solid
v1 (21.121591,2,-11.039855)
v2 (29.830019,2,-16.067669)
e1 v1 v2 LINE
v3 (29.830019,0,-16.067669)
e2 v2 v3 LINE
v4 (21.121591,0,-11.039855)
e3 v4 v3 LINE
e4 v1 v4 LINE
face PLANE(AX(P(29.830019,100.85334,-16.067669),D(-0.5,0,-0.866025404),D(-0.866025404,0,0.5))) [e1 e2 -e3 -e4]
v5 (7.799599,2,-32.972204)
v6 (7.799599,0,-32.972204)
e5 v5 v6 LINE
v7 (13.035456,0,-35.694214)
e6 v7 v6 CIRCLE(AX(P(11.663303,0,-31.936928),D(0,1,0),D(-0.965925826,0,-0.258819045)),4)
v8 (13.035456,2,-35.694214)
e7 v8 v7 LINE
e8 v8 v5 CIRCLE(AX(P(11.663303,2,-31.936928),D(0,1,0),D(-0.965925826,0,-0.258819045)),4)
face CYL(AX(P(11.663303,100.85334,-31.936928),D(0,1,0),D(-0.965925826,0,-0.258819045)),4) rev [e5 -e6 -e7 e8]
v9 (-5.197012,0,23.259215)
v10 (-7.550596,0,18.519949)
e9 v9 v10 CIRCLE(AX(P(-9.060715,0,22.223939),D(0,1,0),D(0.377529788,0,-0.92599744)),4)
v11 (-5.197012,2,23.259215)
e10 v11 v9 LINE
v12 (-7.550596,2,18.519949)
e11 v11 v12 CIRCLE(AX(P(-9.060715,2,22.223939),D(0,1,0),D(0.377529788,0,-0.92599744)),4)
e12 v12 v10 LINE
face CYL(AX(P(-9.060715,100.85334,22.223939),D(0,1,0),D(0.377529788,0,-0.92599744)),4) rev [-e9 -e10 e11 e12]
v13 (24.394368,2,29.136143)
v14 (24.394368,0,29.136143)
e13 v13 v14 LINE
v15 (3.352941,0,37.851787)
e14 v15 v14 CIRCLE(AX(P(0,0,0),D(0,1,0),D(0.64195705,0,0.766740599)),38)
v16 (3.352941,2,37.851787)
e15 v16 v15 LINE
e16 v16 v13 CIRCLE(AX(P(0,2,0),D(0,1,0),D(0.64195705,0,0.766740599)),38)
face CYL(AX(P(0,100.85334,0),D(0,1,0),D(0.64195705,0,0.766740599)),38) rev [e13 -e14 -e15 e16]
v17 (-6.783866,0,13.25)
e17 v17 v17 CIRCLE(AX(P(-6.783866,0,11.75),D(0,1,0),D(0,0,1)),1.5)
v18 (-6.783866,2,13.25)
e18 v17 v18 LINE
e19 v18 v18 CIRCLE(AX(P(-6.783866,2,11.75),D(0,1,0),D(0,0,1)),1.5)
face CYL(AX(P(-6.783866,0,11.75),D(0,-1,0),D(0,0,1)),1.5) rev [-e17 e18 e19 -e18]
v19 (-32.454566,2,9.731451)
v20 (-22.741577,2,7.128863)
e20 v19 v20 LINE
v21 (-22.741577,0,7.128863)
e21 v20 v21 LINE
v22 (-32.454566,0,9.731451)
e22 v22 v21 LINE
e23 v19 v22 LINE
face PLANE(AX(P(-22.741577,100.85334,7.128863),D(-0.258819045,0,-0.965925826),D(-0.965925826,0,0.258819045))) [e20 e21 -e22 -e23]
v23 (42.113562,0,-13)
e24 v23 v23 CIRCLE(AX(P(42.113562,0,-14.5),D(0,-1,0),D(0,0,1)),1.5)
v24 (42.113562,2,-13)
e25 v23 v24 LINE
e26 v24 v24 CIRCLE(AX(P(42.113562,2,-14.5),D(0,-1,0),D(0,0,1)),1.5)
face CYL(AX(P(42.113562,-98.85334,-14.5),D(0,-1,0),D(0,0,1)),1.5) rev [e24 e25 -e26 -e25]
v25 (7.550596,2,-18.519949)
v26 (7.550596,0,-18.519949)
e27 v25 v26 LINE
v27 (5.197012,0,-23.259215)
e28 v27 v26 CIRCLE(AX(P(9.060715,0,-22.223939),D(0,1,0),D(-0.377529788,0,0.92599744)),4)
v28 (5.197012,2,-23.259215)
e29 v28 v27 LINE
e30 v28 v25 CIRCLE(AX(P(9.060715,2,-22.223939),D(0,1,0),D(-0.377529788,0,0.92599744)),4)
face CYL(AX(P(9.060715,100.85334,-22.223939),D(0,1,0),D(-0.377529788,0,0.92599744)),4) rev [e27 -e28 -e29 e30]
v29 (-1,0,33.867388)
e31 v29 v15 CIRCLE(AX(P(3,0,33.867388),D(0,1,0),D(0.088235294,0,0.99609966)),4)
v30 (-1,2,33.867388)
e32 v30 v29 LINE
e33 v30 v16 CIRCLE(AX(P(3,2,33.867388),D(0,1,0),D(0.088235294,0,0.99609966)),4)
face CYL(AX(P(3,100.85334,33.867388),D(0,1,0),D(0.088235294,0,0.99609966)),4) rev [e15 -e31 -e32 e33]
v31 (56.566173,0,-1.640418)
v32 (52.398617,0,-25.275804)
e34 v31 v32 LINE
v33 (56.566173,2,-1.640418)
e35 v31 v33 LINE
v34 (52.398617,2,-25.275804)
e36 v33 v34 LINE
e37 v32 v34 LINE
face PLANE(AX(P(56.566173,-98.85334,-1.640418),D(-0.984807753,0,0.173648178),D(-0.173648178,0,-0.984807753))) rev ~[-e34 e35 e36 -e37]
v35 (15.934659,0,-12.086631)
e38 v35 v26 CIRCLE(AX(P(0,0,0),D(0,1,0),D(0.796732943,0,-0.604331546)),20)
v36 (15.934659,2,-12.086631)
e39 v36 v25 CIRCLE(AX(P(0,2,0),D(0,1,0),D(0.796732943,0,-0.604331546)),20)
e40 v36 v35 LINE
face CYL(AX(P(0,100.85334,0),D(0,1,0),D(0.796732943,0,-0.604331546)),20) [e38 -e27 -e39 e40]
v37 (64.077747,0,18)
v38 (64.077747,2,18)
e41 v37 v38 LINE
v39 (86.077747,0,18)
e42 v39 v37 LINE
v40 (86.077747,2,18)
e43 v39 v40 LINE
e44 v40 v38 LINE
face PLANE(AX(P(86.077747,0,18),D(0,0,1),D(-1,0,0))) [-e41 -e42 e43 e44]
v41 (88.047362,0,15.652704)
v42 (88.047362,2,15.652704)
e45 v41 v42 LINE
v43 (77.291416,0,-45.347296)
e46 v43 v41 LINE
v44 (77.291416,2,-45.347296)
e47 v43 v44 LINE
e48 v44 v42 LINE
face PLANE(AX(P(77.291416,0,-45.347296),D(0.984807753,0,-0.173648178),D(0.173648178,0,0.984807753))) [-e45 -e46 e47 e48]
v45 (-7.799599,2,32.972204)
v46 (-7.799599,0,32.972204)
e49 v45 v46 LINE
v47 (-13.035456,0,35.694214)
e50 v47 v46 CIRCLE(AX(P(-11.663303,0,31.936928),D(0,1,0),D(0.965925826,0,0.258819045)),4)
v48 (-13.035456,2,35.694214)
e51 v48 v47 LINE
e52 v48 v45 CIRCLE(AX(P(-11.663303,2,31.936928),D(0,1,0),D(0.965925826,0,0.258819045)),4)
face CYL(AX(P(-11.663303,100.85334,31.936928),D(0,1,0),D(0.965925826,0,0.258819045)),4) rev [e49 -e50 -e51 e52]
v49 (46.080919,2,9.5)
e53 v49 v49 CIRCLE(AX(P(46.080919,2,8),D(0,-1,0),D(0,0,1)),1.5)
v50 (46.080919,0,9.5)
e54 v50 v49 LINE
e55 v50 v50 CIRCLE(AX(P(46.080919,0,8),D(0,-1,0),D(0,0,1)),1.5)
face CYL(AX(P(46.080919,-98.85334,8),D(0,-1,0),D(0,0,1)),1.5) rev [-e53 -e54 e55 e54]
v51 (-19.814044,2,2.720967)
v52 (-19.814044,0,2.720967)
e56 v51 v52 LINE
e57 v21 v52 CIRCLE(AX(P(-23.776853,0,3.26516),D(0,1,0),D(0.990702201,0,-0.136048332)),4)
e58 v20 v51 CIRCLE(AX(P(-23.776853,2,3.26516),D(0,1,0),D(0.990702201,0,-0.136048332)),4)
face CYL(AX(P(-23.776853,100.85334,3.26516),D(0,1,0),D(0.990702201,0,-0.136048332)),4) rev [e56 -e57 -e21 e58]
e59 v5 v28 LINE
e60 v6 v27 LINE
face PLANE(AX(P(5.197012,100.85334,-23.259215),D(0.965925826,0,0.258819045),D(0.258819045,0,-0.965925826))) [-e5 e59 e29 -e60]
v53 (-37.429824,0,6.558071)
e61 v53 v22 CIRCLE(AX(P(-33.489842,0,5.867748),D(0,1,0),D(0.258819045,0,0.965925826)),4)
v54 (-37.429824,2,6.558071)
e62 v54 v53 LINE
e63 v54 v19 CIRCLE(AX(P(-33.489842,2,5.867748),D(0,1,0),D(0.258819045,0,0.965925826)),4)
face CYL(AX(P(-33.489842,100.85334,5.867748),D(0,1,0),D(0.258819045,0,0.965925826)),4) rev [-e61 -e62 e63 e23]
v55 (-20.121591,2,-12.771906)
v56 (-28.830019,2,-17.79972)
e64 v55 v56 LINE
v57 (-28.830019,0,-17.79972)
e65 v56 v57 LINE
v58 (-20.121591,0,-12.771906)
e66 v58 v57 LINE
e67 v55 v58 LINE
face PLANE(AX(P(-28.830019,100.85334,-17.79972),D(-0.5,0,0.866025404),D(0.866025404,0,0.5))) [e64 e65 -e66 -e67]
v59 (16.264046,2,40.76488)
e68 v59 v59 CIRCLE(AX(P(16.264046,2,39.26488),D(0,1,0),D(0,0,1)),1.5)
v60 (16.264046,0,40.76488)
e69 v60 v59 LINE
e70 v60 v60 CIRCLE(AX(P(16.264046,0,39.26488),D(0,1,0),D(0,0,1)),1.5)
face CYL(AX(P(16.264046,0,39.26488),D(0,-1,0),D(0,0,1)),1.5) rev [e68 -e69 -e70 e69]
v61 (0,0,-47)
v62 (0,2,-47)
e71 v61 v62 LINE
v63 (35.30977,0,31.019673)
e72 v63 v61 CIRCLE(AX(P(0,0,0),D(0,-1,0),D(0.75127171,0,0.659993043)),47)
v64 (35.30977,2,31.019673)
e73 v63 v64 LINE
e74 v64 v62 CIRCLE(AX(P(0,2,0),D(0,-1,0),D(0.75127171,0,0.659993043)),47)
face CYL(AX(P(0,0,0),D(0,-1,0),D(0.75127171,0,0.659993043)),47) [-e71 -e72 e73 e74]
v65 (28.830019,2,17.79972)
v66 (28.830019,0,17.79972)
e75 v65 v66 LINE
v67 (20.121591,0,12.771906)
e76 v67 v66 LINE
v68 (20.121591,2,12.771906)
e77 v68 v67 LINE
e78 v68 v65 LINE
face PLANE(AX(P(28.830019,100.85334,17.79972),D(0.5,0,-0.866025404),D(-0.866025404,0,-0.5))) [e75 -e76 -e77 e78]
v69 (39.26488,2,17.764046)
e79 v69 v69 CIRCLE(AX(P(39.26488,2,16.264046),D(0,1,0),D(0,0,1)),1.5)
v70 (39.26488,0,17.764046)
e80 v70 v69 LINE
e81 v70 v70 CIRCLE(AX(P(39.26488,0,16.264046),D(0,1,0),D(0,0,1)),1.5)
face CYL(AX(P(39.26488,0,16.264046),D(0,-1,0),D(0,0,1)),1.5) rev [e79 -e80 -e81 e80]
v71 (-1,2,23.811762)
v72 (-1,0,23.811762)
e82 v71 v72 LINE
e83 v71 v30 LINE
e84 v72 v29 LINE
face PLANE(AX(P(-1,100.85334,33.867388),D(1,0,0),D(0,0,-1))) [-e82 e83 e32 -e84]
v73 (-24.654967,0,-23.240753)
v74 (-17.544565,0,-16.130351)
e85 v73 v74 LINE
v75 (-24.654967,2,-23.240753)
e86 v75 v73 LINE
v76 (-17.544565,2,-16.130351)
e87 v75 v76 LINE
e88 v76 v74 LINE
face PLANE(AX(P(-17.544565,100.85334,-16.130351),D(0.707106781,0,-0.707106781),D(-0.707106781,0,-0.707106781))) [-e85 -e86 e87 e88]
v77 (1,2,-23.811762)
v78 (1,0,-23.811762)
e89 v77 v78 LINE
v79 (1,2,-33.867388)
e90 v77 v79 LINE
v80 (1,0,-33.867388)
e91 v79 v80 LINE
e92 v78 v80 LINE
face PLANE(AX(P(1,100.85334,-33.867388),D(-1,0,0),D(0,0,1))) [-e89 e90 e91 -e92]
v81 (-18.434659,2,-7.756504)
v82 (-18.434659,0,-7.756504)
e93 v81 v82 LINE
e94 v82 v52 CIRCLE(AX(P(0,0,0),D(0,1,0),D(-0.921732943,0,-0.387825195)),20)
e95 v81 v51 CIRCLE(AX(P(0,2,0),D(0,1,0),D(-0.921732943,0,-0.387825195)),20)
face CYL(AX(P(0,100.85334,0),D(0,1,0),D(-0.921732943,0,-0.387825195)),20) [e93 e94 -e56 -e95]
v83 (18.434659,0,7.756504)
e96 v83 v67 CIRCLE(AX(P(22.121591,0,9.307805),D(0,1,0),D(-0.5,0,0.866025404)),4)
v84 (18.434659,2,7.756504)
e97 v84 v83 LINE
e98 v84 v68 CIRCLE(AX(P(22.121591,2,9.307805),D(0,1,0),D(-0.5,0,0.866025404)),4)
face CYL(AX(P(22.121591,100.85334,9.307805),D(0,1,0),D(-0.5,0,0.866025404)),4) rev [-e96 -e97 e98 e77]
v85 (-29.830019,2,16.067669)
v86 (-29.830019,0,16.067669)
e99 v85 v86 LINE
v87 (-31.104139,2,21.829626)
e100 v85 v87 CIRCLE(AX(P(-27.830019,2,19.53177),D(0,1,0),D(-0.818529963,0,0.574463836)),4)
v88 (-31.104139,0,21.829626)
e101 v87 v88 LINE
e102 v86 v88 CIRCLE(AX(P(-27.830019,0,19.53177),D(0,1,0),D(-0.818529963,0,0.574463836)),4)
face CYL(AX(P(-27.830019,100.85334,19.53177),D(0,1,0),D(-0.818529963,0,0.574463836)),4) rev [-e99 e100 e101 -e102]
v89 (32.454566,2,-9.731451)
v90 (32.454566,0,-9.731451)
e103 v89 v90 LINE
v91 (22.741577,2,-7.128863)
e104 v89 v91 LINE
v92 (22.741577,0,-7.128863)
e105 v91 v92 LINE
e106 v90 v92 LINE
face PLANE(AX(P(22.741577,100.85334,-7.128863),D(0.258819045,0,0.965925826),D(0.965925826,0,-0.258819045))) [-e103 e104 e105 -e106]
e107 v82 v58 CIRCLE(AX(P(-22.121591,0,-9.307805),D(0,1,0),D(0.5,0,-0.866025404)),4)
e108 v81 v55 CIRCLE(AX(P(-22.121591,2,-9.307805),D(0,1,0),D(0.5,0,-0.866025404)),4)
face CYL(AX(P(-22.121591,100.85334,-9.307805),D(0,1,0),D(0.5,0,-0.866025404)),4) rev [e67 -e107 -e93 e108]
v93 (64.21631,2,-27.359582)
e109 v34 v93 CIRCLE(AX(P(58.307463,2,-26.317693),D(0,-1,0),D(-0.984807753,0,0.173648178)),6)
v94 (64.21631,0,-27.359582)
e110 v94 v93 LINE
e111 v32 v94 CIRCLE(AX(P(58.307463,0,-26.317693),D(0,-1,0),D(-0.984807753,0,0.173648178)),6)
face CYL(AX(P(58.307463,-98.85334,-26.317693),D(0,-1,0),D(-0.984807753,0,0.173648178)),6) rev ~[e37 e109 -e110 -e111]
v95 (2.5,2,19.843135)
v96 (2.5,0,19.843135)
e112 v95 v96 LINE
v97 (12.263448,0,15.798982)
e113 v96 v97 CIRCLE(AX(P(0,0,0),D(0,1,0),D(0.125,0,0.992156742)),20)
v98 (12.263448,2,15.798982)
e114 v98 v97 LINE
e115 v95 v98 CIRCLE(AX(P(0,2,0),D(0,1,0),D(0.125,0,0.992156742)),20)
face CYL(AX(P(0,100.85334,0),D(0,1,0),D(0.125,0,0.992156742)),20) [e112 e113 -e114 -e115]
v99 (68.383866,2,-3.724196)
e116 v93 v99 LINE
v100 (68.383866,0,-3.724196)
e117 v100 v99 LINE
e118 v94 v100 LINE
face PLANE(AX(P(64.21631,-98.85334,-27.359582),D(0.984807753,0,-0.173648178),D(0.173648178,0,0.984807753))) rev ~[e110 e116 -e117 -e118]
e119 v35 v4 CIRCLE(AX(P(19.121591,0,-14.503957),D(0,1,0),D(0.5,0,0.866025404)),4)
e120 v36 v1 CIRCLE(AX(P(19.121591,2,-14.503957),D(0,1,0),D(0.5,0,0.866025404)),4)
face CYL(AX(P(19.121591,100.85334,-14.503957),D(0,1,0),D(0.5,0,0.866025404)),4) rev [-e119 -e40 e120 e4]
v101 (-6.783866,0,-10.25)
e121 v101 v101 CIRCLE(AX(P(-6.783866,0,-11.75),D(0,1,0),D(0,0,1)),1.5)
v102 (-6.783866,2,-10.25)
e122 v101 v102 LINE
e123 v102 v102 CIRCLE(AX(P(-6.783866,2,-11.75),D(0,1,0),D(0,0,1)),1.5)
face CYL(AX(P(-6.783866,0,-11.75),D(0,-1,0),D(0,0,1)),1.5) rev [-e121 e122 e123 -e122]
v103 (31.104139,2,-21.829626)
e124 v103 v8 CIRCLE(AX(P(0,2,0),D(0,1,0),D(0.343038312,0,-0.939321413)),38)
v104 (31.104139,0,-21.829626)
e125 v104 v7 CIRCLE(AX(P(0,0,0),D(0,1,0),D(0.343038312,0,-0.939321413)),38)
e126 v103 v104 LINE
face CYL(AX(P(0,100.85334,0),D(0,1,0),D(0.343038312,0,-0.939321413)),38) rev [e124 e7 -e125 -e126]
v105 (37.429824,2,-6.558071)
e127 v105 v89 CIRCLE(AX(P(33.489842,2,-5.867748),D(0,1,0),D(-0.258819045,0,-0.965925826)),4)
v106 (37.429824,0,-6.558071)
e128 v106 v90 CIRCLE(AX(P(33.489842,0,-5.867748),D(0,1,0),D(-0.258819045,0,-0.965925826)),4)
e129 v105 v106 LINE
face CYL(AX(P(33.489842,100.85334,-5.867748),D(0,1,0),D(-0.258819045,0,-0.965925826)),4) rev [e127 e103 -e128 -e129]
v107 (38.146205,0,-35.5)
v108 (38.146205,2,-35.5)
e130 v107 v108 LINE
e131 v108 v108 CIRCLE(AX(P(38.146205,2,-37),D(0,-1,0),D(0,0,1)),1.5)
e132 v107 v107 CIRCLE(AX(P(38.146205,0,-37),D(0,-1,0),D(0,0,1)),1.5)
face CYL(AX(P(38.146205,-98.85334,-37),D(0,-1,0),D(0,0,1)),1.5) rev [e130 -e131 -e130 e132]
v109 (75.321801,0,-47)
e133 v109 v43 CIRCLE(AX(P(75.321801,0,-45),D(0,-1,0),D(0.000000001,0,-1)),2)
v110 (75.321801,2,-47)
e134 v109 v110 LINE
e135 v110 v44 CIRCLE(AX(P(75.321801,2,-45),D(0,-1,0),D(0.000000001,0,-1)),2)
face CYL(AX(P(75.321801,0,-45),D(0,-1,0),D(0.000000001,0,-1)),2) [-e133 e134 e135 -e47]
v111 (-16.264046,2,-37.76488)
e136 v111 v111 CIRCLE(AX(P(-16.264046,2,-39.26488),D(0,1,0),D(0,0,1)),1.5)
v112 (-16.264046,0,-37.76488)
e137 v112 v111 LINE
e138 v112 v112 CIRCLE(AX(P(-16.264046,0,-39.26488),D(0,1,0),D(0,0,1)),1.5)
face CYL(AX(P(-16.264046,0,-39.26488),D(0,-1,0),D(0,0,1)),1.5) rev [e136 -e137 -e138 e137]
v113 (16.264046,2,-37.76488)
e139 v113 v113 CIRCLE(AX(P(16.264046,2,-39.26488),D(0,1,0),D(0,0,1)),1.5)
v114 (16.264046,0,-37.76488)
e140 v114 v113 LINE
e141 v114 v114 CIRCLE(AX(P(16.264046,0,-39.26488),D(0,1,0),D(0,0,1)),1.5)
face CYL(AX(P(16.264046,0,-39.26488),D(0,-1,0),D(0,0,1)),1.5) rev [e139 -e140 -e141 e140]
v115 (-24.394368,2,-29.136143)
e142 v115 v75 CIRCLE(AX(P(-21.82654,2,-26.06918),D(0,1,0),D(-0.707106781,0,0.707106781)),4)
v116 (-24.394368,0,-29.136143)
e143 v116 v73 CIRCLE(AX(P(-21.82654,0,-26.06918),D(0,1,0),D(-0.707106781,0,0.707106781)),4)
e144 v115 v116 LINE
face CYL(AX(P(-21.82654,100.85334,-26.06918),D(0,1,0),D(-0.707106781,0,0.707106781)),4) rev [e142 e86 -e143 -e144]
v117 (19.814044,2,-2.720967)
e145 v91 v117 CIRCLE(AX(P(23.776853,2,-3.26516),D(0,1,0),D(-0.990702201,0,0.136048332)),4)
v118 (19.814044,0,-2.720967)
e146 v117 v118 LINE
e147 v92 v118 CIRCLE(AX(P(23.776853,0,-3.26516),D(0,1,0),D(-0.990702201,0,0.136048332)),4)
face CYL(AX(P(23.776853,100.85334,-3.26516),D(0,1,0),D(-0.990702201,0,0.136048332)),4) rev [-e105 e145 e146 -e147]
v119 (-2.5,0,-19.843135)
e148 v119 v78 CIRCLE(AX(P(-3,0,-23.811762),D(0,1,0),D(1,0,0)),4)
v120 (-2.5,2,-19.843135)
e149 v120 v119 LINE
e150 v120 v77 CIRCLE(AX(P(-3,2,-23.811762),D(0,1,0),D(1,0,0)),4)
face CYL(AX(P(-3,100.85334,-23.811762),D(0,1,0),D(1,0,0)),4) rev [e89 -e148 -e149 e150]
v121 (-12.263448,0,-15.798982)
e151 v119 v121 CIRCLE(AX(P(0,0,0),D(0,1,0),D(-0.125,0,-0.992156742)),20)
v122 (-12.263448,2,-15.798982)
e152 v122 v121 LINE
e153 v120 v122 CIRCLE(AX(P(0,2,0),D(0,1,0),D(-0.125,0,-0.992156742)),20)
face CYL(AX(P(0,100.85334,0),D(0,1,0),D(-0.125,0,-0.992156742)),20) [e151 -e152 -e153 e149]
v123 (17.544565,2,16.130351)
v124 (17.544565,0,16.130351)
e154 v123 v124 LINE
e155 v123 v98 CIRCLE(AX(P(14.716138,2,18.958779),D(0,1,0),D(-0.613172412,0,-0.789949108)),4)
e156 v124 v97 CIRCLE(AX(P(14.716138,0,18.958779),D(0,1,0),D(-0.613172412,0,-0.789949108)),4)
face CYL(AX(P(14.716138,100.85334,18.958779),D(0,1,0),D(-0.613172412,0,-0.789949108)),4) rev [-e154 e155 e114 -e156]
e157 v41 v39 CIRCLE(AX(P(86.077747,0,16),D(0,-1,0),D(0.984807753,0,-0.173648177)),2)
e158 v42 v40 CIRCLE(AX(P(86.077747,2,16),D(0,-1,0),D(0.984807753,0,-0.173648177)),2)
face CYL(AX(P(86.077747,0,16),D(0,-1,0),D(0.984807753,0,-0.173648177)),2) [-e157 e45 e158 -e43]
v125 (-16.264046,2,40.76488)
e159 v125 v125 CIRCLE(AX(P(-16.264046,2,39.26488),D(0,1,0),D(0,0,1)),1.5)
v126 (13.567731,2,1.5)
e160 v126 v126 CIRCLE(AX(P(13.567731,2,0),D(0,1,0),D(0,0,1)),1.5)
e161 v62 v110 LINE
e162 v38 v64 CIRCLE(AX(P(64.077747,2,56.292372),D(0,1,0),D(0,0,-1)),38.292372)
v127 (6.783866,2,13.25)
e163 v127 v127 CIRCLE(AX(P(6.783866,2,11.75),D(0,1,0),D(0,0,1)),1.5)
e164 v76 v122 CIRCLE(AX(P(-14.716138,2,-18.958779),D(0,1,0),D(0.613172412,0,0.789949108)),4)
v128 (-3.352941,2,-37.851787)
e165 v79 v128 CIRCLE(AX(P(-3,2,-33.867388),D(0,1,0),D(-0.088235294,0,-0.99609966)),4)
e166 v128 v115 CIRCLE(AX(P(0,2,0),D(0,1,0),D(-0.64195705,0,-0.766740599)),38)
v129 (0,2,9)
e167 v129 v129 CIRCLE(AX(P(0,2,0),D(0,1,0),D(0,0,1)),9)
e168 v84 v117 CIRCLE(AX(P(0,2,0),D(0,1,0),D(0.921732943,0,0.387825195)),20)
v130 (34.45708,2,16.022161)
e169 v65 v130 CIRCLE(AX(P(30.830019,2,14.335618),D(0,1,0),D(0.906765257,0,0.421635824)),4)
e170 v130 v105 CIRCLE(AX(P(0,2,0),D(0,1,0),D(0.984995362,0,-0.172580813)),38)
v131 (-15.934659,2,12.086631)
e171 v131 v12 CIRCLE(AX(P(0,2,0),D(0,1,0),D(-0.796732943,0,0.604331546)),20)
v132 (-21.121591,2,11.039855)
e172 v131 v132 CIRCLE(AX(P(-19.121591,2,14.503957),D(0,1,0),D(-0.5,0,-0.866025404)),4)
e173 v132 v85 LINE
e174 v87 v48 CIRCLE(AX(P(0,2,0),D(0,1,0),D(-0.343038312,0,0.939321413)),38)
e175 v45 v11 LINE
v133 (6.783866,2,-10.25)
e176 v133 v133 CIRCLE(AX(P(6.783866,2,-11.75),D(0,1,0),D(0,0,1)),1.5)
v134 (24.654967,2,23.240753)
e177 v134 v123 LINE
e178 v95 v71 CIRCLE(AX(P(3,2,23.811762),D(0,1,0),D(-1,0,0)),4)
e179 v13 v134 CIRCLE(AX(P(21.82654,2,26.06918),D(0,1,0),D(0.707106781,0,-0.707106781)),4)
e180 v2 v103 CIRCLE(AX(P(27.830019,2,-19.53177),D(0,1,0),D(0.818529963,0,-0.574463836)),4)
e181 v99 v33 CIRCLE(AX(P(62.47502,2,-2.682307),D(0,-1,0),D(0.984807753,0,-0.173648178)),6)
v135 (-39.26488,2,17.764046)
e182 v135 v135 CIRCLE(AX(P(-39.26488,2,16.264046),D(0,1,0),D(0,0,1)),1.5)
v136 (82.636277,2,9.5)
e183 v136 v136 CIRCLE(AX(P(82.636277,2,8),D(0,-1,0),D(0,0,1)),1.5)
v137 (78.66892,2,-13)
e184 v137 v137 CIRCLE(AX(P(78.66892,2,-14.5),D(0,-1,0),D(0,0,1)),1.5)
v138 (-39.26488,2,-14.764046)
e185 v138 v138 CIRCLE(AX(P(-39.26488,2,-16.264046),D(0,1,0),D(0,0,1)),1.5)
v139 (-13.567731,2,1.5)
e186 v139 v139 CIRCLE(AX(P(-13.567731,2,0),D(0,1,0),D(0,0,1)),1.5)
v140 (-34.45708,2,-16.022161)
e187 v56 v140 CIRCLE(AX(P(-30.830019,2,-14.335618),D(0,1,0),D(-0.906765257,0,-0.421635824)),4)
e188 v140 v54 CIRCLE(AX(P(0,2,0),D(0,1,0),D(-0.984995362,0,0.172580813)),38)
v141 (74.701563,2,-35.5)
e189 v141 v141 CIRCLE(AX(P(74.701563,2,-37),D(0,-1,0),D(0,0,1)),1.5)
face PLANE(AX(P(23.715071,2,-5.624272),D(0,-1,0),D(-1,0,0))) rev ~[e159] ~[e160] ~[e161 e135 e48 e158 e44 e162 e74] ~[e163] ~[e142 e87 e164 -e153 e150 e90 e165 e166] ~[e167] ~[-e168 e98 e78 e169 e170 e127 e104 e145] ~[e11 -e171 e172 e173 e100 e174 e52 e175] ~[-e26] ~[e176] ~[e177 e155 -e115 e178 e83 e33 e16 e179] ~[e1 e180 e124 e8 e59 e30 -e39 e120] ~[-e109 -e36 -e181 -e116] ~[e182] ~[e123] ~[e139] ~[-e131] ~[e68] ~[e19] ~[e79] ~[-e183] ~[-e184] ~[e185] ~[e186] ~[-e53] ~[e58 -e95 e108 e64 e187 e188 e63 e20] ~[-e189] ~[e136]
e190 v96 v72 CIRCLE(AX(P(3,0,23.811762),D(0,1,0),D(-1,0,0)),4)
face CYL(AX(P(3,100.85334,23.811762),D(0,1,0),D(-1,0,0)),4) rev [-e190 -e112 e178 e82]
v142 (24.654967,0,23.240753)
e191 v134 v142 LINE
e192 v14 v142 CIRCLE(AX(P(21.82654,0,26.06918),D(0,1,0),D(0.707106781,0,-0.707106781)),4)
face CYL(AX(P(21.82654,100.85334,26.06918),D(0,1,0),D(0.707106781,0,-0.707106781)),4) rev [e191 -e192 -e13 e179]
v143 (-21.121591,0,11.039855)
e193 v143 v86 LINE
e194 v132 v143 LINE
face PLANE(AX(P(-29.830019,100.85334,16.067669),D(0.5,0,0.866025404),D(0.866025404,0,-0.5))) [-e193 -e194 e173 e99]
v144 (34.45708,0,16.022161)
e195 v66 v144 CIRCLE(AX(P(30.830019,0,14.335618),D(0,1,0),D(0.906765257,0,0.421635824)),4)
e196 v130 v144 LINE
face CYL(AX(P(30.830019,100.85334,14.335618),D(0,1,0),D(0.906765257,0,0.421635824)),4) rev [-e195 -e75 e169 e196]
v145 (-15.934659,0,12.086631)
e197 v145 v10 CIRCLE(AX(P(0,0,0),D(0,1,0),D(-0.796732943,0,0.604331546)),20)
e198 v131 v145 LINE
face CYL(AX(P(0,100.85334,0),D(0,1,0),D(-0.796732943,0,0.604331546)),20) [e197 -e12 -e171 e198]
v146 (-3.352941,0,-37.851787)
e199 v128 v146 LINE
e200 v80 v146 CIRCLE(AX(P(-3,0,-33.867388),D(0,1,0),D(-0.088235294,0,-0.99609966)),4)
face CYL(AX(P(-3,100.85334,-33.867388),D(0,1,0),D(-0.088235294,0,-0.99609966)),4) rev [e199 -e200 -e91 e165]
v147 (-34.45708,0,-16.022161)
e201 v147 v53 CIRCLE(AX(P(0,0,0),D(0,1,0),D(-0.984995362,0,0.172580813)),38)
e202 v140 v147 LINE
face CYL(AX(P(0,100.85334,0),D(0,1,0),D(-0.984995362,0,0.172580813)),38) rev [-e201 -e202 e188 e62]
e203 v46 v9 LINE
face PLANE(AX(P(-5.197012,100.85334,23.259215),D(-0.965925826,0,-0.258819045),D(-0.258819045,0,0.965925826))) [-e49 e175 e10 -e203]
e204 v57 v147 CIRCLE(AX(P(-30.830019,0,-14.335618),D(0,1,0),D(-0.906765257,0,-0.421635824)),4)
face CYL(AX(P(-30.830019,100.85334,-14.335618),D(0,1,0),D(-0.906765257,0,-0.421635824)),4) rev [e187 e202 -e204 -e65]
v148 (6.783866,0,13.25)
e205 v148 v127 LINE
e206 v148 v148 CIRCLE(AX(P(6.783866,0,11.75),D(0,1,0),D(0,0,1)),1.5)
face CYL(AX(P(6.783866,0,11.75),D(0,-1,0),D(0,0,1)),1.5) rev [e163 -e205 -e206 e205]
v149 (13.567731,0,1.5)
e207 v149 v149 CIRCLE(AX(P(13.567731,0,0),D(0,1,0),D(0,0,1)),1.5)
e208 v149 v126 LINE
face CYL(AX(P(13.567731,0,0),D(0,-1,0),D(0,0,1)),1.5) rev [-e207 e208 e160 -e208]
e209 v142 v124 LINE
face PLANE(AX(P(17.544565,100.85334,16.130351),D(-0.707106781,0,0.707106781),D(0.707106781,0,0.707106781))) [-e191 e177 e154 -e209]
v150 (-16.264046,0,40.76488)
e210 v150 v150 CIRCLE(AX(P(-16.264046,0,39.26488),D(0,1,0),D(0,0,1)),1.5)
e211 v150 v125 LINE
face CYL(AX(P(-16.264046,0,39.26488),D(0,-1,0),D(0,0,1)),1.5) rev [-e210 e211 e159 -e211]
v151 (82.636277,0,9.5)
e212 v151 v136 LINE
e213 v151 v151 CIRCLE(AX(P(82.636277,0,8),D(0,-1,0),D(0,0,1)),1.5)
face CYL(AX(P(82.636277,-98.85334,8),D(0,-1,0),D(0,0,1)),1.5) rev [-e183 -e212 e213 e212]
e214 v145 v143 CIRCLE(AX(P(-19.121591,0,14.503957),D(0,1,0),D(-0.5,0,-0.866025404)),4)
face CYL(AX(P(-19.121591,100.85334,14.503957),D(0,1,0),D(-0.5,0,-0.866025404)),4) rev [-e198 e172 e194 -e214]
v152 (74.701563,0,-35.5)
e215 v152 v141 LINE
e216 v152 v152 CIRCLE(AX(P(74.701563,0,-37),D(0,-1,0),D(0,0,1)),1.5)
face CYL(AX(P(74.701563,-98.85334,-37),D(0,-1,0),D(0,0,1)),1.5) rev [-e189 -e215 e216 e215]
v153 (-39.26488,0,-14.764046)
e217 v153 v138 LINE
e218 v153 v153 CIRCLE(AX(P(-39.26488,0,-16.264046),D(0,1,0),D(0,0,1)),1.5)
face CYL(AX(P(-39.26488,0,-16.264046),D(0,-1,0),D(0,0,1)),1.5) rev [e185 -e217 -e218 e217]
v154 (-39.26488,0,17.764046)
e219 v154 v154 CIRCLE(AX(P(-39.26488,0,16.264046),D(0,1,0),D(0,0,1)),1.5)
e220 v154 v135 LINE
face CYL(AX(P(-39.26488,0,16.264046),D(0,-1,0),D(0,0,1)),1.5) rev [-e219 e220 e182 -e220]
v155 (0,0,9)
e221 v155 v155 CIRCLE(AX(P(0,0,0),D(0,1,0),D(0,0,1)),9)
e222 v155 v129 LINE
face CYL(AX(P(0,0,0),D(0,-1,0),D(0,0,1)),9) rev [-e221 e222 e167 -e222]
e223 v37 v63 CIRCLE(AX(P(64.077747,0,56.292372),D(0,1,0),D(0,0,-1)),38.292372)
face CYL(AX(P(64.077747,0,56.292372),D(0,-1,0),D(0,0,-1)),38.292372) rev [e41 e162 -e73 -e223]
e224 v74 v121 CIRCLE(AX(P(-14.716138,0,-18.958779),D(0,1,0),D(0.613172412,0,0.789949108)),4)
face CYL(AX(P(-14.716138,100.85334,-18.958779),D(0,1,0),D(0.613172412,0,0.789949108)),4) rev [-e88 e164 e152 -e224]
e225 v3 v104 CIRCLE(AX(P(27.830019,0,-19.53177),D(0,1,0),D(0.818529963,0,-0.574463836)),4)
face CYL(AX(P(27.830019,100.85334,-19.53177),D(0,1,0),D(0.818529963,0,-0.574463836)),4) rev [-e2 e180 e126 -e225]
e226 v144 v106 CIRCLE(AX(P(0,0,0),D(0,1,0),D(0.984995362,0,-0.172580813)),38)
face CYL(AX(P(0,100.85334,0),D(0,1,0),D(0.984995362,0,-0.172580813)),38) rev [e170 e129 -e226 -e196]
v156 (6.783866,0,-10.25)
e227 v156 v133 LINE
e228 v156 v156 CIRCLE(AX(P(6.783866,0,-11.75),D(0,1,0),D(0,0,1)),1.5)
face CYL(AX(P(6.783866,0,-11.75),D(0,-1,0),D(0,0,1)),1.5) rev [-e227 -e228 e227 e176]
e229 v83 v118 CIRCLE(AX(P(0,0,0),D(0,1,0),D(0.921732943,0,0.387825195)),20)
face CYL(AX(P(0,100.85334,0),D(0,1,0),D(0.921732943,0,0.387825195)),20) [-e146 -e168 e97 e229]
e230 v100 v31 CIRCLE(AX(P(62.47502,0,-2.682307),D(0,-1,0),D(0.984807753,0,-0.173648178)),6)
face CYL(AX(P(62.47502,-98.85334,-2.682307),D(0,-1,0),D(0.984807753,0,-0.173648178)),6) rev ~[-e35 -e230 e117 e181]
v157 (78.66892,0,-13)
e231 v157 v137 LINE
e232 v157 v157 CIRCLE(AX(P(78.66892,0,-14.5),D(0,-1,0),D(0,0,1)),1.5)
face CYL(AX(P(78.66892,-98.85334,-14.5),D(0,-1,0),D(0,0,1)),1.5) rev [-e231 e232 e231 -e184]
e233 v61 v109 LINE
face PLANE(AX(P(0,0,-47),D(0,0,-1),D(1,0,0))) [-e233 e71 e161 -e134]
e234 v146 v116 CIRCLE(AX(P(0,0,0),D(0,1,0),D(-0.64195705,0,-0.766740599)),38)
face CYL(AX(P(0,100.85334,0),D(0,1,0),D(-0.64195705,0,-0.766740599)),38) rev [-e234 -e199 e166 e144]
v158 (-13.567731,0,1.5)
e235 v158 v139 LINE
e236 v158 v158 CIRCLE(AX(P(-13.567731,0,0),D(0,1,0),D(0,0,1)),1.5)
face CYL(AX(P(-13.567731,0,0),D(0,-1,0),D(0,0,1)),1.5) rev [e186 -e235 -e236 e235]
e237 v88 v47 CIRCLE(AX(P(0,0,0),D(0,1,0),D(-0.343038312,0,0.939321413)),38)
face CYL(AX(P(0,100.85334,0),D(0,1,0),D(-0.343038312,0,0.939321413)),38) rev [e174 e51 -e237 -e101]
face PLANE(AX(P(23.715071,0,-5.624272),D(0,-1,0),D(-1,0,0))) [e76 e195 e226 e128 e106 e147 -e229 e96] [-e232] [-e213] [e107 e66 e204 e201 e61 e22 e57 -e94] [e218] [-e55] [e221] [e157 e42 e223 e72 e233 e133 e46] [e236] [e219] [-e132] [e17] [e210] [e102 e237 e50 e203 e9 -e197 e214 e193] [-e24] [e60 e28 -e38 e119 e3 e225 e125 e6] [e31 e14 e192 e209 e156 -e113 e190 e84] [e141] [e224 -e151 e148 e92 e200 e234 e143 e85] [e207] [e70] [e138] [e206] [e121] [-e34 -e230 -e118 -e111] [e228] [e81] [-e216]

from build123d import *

# Parameters (mm, degrees)
SKETCH_1_R               = 1.5
SKETCH_1_R_2             = 9
EXTRUDE_1_DEPTH          = 2
CUT_EXTRUDE_1_DEPTH      = 100.85333965
CUT_EXTRUDE_1_DEPTH_BACK = 100.85333965
SKETCH_2_R               = 1.5
CUT_EXTRUDE_2_DEPTH      = 100.85333965
CUT_EXTRUDE_2_DEPTH_BACK = 100.85333965


with BuildPart() as part:
    # 草图1 → 凸台-拉伸1 (new body)
    with BuildSketch(Plane(origin=(0, 0, 0), x_dir=(1, 0, 0), z_dir=(0, 1, 0))):
        with BuildLine():
            Line((0, 47), (75.321800738, 47))
            ThreePointArc((75.321800738, 47), (76.607375957, 46.532088886), (77.291416244, 45.347296355))
            Line((77.291416244, 45.347296355), (88.047362067, -15.652703645))
            ThreePointArc((88.047362067, -15.652703645), (87.609835447, -17.285575219), (86.077746561, -18))
            Line((86.077746561, -18), (64.077746561, -18))
            ThreePointArc((64.077746561, -18), (48.289235397, -21.406433974), (35.309770387, -31.019673035))
            ThreePointArc((35.309770387, -31.019673035), (-42.818948099, -19.378794691), (0, 47))
        make_face()
        with Locations(Location((-16.264045876, 39.264880132, 0), (0, 0, 270))):
            Circle(SKETCH_1_R, mode=Mode.SUBTRACT)
        with Locations(Location((16.264045876, 39.264880132, 0), (0, 0, 270))):
            Circle(SKETCH_1_R, mode=Mode.SUBTRACT)
        with Locations(Location((39.264880132, -16.264045876, 0), (0, 0, 270))):
            Circle(SKETCH_1_R, mode=Mode.SUBTRACT)
        with Locations(Location((16.264045876, -39.264880132, 0), (0, 0, 270))):
            Circle(SKETCH_1_R, mode=Mode.SUBTRACT)
        with Locations(Location((-16.264045876, -39.264880132, 0), (0, 0, 270))):
            Circle(SKETCH_1_R, mode=Mode.SUBTRACT)
        with Locations(Location((-39.264880132, -16.264045876, 0), (0, 0, 270))):
            Circle(SKETCH_1_R, mode=Mode.SUBTRACT)
        with Locations(Location((-39.264880132, 16.264045876, 0), (0, 0, 270))):
            Circle(SKETCH_1_R, mode=Mode.SUBTRACT)
        with Locations(Location((0, 0, 0), (0, 0, 270))):
            Circle(SKETCH_1_R_2, mode=Mode.SUBTRACT)
        with Locations(Location((-6.783865663, 11.75, 0), (0, 0, 270))):
            Circle(SKETCH_1_R, mode=Mode.SUBTRACT)
        with Locations(Location((6.783865663, 11.75, 0), (0, 0, 270))):
            Circle(SKETCH_1_R, mode=Mode.SUBTRACT)
        with Locations(Location((13.567731326, 0, 0), (0, 0, 270))):
            Circle(SKETCH_1_R, mode=Mode.SUBTRACT)
        with Locations(Location((6.783865663, -11.75, 0), (0, 0, 270))):
            Circle(SKETCH_1_R, mode=Mode.SUBTRACT)
        with Locations(Location((-6.783865663, -11.75, 0), (0, 0, 270))):
            Circle(SKETCH_1_R, mode=Mode.SUBTRACT)
        with Locations(Location((-13.567731326, 0, 0), (0, 0, 270))):
            Circle(SKETCH_1_R, mode=Mode.SUBTRACT)
    extrude(amount=EXTRUDE_1_DEPTH)

    # 草图2 → 切除-拉伸1 (cut, two sides: drawn at the far end of the back side and taken through both)
    with BuildSketch(Plane(origin=(0, 2, 0), x_dir=(1, 0, 0), z_dir=(0, 1, 0)).offset(-CUT_EXTRUDE_1_DEPTH_BACK)):
        with Locations(Location((74.70156336, 37, 0), (0, 0, 270))):
            Circle(SKETCH_2_R)
        with Locations(Location((78.668920425, 14.5, 0), (0, 0, 270))):
            Circle(SKETCH_2_R)
        with Locations(Location((82.636277491, -8, 0), (0, 0, 270))):
            Circle(SKETCH_2_R)
        with Locations(Location((38.146205332, 37, 0), (0, 0, 270))):
            Circle(SKETCH_2_R)
        with Locations(Location((46.080919464, -8, 0), (0, 0, 270))):
            Circle(SKETCH_2_R)
        with Locations(Location((42.113562398, 14.5, 0), (0, 0, 270))):
            Circle(SKETCH_2_R)
        with BuildLine():
            Line((64.216309798, 27.359582102), (68.383866062, 3.72419603))
            ThreePointArc((68.383866062, 3.72419603), (63.51690861, -3.226539554), (56.566173025, 1.640417898))
            Line((56.566173025, 1.640417898), (52.398616761, 25.27580397))
            ThreePointArc((52.398616761, 25.27580397), (57.265574214, 32.226539554), (64.216309798, 27.359582102))
        make_face()
    extrude(amount=CUT_EXTRUDE_1_DEPTH + CUT_EXTRUDE_1_DEPTH_BACK, mode=Mode.SUBTRACT)

    # 草图3 → 切除-拉伸2 (cut, two sides: drawn at the far end of the back side and taken through both)
    with BuildSketch(Plane.XZ.offset(-CUT_EXTRUDE_2_DEPTH_BACK)):
        with BuildLine():
            ThreePointArc((13.035455865, -35.694213682), (23.132934302, -30.147426931), (31.104138605, -21.829625778))
            ThreePointArc((31.104138605, -21.829625778), (31.73567133, -18.668128181), (29.830018752, -16.067668818))
            Line((29.830018752, -16.067668818), (21.121590627, -11.039855496))
            ThreePointArc((21.121590627, -11.039855496), (18.33030278, -10.583005244), (15.934658856, -12.086630926))
            ThreePointArc((15.934658856, -12.086630926), (12.17522858, -15.867066806), (7.550595775, -18.519948797))
            ThreePointArc((7.550595775, -18.519948797), (5.478166623, -20.44479617), (5.197011625, -23.259214737))
            Line((5.197011625, -23.259214737), (7.799599311, -32.972204212))
            ThreePointArc((7.799599311, -32.972204212), (9.818230989, -35.485971662), (13.035455865, -35.694213682))
        make_face()
        with BuildLine():
            ThreePointArc((37.429823749, -6.558070912), (37.674904732, 4.959995304), (34.457079782, 16.022161306))
            ThreePointArc((34.457079782, 16.022161306), (32.03490891, 18.149833488), (28.830018752, 17.799719626))
            Line((28.830018752, 17.799719626), (20.121590627, 12.771906304))
            ThreePointArc((20.121590627, 12.771906304), (18.33030278, 10.583005244), (18.434658856, 7.756503907))
            ThreePointArc((18.434658856, 7.756503907), (19.828897227, 2.610523844), (19.814044022, -2.720966644))
            ThreePointArc((19.814044022, -2.720966644), (20.44479617, -5.478166623), (22.741576647, -7.128863277))
            Line((22.741576647, -7.128863277), (32.454566122, -9.731450963))
            ThreePointArc((32.454566122, -9.731450963), (35.640868431, -9.240148374), (37.429823749, -6.558070912))
        make_face()
        with BuildLine():
            ThreePointArc((24.394367884, 29.13614277), (14.54197043, 35.107422235), (3.352941176, 37.851787084))
            ThreePointArc((3.352941176, 37.851787084), (0.29923758, 36.817961668), (-1, 33.867388444))
            Line((-1, 33.867388444), (-1, 23.8117618))
            ThreePointArc((-1, 23.8117618), (0, 21.166010489), (2.5, 19.843134833))
            ThreePointArc((2.5, 19.843134833), (7.653668647, 18.47759065), (12.263448247, 15.798982153))
            ThreePointArc((12.263448247, 15.798982153), (14.966629547, 14.966629547), (17.544565022, 16.130351459))
            Line((17.544565022, 16.130351459), (24.654966811, 23.240753248))
            ThreePointArc((24.654966811, 23.240753248), (25.822637443, 26.245823287), (24.394367884, 29.13614277))
        make_face()
        with BuildLine():
            ThreePointArc((-13.035455865, 35.694213682), (-23.132934302, 30.147426931), (-31.104138605, 21.829625778))
            ThreePointArc((-31.104138605, 21.829625778), (-31.73567133, 18.668128181), (-29.830018752, 16.067668818))
            Line((-29.830018752, 16.067668818), (-21.121590627, 11.039855496))
            ThreePointArc((-21.121590627, 11.039855496), (-18.33030278, 10.583005244), (-15.934658856, 12.086630926))
            ThreePointArc((-15.934658856, 12.086630926), (-12.17522858, 15.867066806), (-7.550595775, 18.519948797))
            ThreePointArc((-7.550595775, 18.519948797), (-5.478166623, 20.44479617), (-5.197011625, 23.259214737))
            Line((-5.197011625, 23.259214737), (-7.799599311, 32.972204212))
            ThreePointArc((-7.799599311, 32.972204212), (-9.818230989, 35.485971662), (-13.035455865, 35.694213682))
        make_face()
        with BuildLine():
            ThreePointArc((-37.429823749, 6.558070912), (-37.674904732, -4.959995304), (-34.457079782, -16.022161306))
            ThreePointArc((-34.457079782, -16.022161306), (-32.03490891, -18.149833488), (-28.830018752, -17.799719626))
            Line((-28.830018752, -17.799719626), (-20.121590627, -12.771906304))
            ThreePointArc((-20.121590627, -12.771906304), (-18.33030278, -10.583005244), (-18.434658856, -7.756503907))
            ThreePointArc((-18.434658856, -7.756503907), (-19.828897227, -2.610523844), (-19.814044022, 2.720966644))
            ThreePointArc((-19.814044022, 2.720966644), (-20.44479617, 5.478166623), (-22.741576647, 7.128863277))
            Line((-22.741576647, 7.128863277), (-32.454566122, 9.731450963))
            ThreePointArc((-32.454566122, 9.731450963), (-35.640868431, 9.240148374), (-37.429823749, 6.558070912))
        make_face()
        with BuildLine():
            ThreePointArc((-24.394367884, -29.13614277), (-14.54197043, -35.107422235), (-3.352941176, -37.851787084))
            ThreePointArc((-3.352941176, -37.851787084), (-0.29923758, -36.817961668), (1, -33.867388444))
            Line((1, -33.867388444), (1, -23.8117618))
            ThreePointArc((1, -23.8117618), (0, -21.166010489), (-2.5, -19.843134833))
            ThreePointArc((-2.5, -19.843134833), (-7.653668647, -18.47759065), (-12.263448247, -15.798982153))
            ThreePointArc((-12.263448247, -15.798982153), (-14.966629547, -14.966629547), (-17.544565022, -16.130351459))
            Line((-17.544565022, -16.130351459), (-24.654966811, -23.240753248))
            ThreePointArc((-24.654966811, -23.240753248), (-25.822637443, -26.245823287), (-24.394367884, -29.13614277))
        make_face()
    extrude(amount=CUT_EXTRUDE_2_DEPTH + CUT_EXTRUDE_2_DEPTH_BACK, mode=Mode.SUBTRACT)


solid = part.part
